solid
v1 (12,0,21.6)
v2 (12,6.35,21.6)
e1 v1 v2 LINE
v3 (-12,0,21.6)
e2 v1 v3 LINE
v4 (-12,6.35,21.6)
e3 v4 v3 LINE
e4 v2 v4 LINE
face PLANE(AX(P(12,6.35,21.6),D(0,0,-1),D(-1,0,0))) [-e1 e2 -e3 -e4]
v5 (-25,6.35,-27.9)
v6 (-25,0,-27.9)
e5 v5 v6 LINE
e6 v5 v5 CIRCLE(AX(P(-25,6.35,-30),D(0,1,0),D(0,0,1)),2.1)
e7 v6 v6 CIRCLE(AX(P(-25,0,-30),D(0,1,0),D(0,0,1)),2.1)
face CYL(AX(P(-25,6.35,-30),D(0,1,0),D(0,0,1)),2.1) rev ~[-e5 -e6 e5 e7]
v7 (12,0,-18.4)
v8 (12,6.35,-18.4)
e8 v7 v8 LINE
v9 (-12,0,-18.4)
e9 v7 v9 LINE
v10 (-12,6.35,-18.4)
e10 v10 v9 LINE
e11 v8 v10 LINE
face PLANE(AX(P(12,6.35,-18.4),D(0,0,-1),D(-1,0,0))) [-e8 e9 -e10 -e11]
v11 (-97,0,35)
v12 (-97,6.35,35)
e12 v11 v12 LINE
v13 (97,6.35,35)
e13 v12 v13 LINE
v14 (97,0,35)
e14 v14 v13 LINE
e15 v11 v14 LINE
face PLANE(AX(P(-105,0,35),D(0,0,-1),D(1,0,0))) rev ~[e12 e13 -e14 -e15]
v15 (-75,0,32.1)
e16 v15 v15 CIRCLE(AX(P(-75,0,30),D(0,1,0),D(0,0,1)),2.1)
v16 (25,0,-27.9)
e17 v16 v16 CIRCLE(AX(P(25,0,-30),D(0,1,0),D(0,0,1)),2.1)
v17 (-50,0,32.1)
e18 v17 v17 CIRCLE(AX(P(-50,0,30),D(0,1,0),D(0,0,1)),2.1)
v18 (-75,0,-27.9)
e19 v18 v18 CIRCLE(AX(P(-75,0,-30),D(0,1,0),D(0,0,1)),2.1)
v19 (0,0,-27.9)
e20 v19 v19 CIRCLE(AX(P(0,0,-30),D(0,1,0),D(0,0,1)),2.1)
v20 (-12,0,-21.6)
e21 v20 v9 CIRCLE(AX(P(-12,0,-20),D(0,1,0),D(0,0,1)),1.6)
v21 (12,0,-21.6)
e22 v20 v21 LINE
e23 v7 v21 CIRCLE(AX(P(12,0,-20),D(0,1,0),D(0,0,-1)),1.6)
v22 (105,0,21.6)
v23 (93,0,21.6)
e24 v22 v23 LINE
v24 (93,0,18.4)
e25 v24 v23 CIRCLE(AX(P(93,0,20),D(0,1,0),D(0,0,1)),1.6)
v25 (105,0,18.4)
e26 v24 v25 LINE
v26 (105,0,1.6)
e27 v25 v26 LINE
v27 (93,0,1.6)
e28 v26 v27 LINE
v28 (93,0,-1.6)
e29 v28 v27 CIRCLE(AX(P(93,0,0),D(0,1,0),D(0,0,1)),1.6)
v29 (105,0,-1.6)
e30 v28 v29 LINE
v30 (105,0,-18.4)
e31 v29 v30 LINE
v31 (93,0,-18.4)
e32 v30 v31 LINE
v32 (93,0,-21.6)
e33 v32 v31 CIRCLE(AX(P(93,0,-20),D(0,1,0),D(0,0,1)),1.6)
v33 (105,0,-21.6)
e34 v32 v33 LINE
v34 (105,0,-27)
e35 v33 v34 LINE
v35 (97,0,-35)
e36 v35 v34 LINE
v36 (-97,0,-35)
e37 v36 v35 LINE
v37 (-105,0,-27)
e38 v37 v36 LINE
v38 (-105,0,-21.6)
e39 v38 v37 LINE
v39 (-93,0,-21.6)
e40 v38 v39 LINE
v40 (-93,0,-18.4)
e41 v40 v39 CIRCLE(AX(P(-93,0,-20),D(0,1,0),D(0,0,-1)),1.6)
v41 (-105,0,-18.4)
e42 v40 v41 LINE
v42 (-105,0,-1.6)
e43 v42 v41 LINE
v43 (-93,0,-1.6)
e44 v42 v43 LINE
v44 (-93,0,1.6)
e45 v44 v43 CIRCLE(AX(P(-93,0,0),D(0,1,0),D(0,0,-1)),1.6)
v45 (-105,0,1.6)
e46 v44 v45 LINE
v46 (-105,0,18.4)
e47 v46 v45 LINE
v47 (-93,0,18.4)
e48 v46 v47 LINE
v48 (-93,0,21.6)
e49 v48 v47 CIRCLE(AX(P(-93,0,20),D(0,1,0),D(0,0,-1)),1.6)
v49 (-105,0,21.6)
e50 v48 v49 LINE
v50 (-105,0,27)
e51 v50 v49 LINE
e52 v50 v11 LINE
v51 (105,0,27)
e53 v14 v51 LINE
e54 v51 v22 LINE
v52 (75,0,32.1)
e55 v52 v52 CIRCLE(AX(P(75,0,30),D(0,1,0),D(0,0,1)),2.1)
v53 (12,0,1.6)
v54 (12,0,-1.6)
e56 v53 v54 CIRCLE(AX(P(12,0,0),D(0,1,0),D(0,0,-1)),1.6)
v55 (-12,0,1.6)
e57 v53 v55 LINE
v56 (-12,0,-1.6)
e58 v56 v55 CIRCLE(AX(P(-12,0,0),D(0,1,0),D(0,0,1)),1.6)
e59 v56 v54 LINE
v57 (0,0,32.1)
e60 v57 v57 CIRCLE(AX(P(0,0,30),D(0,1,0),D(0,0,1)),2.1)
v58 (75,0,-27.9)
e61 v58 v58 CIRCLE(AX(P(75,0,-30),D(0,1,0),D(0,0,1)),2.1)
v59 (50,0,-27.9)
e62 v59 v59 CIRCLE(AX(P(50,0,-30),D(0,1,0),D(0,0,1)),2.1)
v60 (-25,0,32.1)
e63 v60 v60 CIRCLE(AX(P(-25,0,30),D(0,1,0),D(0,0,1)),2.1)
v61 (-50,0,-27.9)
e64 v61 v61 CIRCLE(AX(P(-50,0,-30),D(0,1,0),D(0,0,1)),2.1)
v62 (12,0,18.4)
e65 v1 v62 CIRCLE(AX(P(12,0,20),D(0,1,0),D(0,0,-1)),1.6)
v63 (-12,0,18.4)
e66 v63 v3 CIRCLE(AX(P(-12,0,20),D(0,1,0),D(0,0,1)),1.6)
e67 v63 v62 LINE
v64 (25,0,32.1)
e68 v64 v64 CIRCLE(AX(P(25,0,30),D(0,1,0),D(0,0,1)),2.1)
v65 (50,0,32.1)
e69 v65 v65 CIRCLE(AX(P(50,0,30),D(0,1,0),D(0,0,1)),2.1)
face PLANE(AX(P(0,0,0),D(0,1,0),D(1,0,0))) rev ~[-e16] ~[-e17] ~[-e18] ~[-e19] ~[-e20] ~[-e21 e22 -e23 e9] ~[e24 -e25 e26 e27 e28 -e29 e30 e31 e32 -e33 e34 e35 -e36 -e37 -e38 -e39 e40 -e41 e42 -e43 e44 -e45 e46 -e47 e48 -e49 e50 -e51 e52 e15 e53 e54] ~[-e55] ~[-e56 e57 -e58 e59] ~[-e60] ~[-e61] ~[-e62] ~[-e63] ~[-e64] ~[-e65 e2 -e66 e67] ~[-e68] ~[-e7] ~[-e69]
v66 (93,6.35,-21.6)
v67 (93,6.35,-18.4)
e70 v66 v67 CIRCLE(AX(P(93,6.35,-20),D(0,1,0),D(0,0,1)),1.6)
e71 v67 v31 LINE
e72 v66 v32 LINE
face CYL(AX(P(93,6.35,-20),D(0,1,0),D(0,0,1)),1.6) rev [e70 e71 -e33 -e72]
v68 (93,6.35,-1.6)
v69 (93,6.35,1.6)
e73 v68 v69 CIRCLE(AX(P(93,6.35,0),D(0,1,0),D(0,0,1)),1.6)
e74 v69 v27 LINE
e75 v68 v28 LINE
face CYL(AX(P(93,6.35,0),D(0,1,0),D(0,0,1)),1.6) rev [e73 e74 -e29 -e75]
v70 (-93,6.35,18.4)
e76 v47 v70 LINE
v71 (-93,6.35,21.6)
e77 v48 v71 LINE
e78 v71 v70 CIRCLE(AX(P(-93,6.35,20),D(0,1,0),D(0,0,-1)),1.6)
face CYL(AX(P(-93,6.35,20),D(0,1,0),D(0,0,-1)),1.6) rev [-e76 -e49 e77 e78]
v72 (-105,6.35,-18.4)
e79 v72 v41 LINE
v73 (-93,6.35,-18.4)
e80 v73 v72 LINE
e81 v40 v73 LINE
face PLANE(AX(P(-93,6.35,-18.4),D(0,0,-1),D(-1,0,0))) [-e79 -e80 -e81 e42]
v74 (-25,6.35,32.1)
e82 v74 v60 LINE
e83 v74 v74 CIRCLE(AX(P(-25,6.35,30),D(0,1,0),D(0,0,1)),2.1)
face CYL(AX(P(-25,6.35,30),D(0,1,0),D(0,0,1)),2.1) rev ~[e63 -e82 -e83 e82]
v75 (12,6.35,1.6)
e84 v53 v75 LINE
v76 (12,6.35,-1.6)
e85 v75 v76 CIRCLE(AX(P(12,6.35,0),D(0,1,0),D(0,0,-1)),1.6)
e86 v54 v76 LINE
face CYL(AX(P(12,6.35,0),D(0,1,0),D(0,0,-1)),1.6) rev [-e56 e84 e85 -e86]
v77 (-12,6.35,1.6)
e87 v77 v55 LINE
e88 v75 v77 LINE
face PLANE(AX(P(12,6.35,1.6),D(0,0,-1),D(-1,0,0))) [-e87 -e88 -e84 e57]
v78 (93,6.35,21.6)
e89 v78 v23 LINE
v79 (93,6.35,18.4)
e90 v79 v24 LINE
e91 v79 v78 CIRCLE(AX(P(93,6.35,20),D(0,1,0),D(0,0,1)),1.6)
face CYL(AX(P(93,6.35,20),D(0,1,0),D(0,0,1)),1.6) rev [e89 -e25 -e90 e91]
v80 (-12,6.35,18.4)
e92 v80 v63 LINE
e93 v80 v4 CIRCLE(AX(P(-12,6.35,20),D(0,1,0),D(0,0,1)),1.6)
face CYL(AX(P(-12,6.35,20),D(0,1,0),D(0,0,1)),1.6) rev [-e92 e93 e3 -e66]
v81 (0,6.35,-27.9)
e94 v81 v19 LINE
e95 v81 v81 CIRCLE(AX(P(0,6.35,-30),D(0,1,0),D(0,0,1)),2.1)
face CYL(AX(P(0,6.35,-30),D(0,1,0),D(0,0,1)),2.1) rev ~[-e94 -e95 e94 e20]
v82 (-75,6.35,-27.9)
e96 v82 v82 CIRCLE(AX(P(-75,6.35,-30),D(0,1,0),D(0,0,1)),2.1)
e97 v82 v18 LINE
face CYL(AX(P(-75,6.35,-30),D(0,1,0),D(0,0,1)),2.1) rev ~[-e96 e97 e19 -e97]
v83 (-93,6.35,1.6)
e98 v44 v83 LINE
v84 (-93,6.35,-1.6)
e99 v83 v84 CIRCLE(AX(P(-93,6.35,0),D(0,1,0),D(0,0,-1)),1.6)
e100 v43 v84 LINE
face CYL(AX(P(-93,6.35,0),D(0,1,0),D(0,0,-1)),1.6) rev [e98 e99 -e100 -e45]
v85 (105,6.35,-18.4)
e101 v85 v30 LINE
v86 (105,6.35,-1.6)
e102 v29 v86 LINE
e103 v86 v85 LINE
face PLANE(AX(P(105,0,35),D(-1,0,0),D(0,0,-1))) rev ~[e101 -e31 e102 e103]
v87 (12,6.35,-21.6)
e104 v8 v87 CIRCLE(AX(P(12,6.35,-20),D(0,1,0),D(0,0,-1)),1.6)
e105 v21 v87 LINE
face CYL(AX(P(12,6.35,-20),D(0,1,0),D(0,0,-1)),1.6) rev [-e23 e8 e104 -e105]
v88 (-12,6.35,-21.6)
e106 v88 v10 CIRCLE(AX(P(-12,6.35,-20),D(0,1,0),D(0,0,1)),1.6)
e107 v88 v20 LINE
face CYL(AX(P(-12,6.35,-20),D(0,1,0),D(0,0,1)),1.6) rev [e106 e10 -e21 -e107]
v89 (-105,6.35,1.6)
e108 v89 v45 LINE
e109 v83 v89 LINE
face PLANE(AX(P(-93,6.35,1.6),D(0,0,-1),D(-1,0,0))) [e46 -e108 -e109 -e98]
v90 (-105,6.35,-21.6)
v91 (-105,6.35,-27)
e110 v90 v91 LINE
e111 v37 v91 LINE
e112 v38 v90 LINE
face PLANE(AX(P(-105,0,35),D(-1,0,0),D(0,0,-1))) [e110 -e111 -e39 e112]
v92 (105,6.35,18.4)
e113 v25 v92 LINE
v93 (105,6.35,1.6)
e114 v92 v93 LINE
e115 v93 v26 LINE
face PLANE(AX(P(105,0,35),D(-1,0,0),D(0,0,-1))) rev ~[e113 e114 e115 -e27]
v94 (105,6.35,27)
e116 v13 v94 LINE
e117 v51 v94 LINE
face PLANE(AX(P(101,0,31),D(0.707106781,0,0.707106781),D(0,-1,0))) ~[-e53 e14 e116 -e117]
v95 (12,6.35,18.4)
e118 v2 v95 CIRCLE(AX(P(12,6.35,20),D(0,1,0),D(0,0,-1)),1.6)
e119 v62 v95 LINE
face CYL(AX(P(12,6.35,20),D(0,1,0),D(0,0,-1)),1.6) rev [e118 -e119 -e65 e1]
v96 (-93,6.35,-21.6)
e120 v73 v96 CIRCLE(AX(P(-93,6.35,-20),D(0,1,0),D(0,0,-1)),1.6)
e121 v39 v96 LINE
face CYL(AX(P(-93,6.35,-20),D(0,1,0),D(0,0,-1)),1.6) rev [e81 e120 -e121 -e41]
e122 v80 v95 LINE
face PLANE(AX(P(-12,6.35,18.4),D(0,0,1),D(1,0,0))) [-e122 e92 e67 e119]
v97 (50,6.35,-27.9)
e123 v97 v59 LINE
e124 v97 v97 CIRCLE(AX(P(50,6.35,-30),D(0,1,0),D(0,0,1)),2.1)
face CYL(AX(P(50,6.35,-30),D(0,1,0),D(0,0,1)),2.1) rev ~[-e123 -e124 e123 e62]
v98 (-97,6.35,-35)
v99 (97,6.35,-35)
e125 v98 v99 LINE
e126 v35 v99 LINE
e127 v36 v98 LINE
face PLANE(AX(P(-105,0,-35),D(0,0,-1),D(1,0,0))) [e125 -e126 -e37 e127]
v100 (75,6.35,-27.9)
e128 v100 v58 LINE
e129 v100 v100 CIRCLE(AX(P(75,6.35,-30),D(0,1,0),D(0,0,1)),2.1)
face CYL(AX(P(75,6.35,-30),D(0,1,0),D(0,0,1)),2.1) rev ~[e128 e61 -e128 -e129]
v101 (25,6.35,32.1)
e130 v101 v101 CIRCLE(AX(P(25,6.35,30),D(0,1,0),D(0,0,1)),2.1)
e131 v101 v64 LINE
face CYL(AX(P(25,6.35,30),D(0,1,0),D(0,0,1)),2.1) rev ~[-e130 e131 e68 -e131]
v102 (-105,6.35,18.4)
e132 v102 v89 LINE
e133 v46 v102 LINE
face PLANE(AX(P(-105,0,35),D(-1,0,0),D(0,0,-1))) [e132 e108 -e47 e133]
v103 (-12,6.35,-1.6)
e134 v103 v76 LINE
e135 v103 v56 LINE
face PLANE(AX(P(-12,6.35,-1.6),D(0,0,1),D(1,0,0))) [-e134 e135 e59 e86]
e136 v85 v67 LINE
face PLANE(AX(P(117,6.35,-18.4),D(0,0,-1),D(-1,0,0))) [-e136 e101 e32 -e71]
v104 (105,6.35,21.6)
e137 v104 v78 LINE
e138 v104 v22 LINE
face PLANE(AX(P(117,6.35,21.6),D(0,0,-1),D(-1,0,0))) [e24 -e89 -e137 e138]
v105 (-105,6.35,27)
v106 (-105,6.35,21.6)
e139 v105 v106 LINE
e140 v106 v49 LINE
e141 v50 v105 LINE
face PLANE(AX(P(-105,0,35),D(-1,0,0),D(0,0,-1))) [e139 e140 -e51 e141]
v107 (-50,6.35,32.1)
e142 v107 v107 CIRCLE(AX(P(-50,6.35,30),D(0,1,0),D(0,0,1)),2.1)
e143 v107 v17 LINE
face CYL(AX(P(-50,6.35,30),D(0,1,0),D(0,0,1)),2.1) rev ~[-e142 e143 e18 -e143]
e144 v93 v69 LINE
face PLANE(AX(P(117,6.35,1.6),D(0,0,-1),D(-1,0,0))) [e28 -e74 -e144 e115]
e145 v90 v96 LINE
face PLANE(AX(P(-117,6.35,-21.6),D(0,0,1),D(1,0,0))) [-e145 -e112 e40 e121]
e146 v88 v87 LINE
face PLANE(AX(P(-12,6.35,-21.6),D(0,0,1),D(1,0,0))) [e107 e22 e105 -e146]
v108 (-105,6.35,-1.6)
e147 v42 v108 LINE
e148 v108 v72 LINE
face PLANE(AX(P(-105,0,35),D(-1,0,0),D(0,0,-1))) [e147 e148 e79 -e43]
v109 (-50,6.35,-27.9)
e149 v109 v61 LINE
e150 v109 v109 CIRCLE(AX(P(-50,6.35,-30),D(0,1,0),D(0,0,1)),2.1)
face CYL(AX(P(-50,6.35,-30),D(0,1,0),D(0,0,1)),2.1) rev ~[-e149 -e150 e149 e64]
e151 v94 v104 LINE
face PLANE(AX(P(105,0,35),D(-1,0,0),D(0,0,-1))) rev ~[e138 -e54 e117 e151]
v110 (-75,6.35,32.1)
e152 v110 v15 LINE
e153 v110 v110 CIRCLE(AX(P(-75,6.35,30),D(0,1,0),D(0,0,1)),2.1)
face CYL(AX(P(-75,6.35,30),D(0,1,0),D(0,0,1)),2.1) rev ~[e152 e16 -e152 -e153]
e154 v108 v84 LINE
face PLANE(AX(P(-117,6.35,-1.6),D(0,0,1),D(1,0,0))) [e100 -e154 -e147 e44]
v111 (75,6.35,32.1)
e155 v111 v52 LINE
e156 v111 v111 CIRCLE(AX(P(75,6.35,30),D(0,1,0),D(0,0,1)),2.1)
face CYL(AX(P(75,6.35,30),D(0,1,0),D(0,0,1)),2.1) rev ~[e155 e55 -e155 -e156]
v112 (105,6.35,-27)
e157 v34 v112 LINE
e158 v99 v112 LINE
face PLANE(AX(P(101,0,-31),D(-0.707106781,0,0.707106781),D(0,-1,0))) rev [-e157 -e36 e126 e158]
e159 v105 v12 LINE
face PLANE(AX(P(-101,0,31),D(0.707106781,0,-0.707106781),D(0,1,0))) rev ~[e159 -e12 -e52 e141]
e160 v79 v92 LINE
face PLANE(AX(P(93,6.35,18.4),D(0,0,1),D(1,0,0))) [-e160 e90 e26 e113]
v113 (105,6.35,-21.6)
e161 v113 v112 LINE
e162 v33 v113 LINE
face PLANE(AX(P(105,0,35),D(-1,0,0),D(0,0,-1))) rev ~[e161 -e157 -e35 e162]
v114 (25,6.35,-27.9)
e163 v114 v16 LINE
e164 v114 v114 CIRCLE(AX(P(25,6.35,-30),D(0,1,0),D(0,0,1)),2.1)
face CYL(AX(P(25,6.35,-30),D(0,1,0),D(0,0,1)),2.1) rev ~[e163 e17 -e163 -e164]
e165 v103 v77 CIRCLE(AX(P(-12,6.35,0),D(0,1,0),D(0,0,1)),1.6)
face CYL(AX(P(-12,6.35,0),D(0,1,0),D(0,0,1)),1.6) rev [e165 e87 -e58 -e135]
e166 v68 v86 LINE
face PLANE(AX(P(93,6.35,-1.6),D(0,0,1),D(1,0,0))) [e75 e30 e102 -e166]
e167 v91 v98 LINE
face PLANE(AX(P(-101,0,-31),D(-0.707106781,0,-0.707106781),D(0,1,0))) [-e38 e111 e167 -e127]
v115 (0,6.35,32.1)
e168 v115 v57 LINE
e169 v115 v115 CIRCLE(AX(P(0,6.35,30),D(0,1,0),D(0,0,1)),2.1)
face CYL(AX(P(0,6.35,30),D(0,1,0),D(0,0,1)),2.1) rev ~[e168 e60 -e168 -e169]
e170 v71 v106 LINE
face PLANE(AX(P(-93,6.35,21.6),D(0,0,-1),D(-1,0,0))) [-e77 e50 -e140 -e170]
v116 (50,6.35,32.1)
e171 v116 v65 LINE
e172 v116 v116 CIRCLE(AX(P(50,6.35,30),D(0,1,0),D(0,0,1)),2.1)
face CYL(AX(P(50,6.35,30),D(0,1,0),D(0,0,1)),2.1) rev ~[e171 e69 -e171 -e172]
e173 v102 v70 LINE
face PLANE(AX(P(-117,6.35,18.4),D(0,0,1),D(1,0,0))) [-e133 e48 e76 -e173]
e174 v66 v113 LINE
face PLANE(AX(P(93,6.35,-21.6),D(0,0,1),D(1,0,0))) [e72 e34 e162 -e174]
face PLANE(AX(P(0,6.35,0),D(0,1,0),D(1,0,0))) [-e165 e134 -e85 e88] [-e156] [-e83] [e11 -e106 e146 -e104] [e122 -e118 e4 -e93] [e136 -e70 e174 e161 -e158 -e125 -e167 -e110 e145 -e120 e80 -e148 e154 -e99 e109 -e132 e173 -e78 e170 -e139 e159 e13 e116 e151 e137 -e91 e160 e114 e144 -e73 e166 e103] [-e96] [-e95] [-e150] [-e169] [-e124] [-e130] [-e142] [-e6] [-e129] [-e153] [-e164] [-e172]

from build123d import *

# Parameters (mm, degrees)
SKETCH1_W                   = 210
SKETCH1_H                   = 70
BOSS_EXTRUDE1_DEPTH         = 6.35
CUT_EXTRUDE1_DEPTH          = 111.861726939
LPATTERN1_COUNT             = 4
LPATTERN1_PITCH             = 20
LPATTERN1_COUNT_DIR2        = 4
LPATTERN1_PITCH_DIR2        = 20
LPATTERN2_COUNT             = 2
LPATTERN2_PITCH             = 105
LPATTERN2_COPY_1_DEPTH      = 111.861726939
LPATTERN2_COPY_2_DEPTH      = 111.861726939
LPATTERN2_COPY_3_DEPTH      = 111.861726939
LPATTERN2_COPY_4_DEPTH      = 111.861726939
LPATTERN2_COPY_5_DEPTH      = 111.861726939
LPATTERN2_COPY_6_DEPTH      = 111.861726939
LPATTERN2_COPY_7_DEPTH      = 111.861726939
LPATTERN2_COPY_8_DEPTH      = 111.861726939
LPATTERN2_COPY_9_DEPTH      = 111.861726939
LPATTERN2_COPY_10_DEPTH     = 111.861726939
LPATTERN2_COPY_11_DEPTH     = 111.861726939
LPATTERN2_COPY_12_DEPTH     = 111.861726939
LPATTERN2_COPY_13_DEPTH     = 111.861726939
LPATTERN2_COPY_14_DEPTH     = 111.861726939
LPATTERN2_COPY_15_DEPTH     = 111.861726939
LPATTERN2_COL_COUNT         = 2
LPATTERN2_COL_PITCH         = 105
LPATTERN2_COL_COPY_1_DEPTH  = 111.861726939
LPATTERN2_COL_COPY_2_DEPTH  = 111.861726939
LPATTERN2_COL_COPY_3_DEPTH  = 111.861726939
LPATTERN2_COL_COPY_4_DEPTH  = 111.861726939
LPATTERN2_COL_COPY_5_DEPTH  = 111.861726939
LPATTERN2_COL_COPY_6_DEPTH  = 111.861726939
LPATTERN2_COL_COPY_7_DEPTH  = 111.861726939
LPATTERN2_COL_COPY_8_DEPTH  = 111.861726939
LPATTERN2_COL_COPY_9_DEPTH  = 111.861726939
LPATTERN2_COL_COPY_10_DEPTH = 111.861726939
LPATTERN2_COL_COPY_11_DEPTH = 111.861726939
LPATTERN2_COL_COPY_12_DEPTH = 111.861726939
LPATTERN2_COL_COPY_13_DEPTH = 111.861726939
LPATTERN2_COL_COPY_14_DEPTH = 111.861726939
LPATTERN2_COL_COPY_15_DEPTH = 111.861726939
SKETCH4_R                   = 2.1
CUT_EXTRUDE2_DEPTH          = 111.861726939
LPATTERN3_COUNT             = 4
LPATTERN3_PITCH             = 25
LPATTERN3_COL_COUNT         = 4
LPATTERN3_COL_PITCH         = 25
CHAMFER1_SIZE               = 8


with BuildPart() as part:
    # Sketch1 → Boss-Extrude1 (new body)
    with BuildSketch(Plane(origin=(0, 0, 0), x_dir=(1, 0, 0), z_dir=(0, 1, 0))):
        Rectangle(SKETCH1_W, SKETCH1_H)
    extrude(amount=BOSS_EXTRUDE1_DEPTH)

    # Sketch3 → Cut-Extrude1 (cut, symmetric)
    with BuildSketch(Plane(origin=(0, 6.35, 0), x_dir=(1, 0, 0), z_dir=(0, 1, 0))):
        with BuildLine():
            Line((12, -1.6), (-12, -1.6))
            ThreePointArc((-12, -1.6), (-13.6, 0), (-12, 1.6))
            Line((-12, 1.6), (12, 1.6))
            ThreePointArc((12, 1.6), (13.6, 0), (12, -1.6))
        make_face()
    cut_extrude1 = extrude(amount=CUT_EXTRUDE1_DEPTH, both=True, mode=Mode.SUBTRACT)

    # LPattern1: Cut-Extrude1 4 × 4
    with Locations(*[Vector(0, 0, 1) * (i * LPATTERN1_PITCH) + Vector(0, 0, -1) * (j * LPATTERN1_PITCH_DIR2) for i in range(LPATTERN1_COUNT) for j in range(LPATTERN1_COUNT_DIR2) if (i, j) != (0, 0)]):
        add(cut_extrude1, mode=Mode.SUBTRACT)

    # LPattern2: Cut-Extrude1 ×2
    with Locations(*[(i * LPATTERN2_PITCH, 0, 0) for i in range(1, LPATTERN2_COUNT)]):
        add(cut_extrude1, mode=Mode.SUBTRACT)

    # LPattern2 copy 1 sketch → LPattern2 copy 1 (cut, symmetric)
    with BuildSketch(Plane(origin=(105, 6.35, -20), x_dir=(1, 0, 0), z_dir=(0, 1, 0))):
        with BuildLine():
            Line((12, -1.6), (-12, -1.6))
            ThreePointArc((-12, -1.6), (-13.6, 0), (-12, 1.6))
            Line((-12, 1.6), (12, 1.6))
            ThreePointArc((12, 1.6), (13.6, 0), (12, -1.6))
        make_face()
    extrude(amount=LPATTERN2_COPY_1_DEPTH, both=True, mode=Mode.SUBTRACT)

    # LPattern2 copy 2 sketch → LPattern2 copy 2 (cut, symmetric)
    with BuildSketch(Plane(origin=(105, 6.35, -40), x_dir=(1, 0, 0), z_dir=(0, 1, 0))):
        with BuildLine():
            Line((12, -1.6), (-12, -1.6))
            ThreePointArc((-12, -1.6), (-13.6, 0), (-12, 1.6))
            Line((-12, 1.6), (12, 1.6))
            ThreePointArc((12, 1.6), (13.6, 0), (12, -1.6))
        make_face()
    extrude(amount=LPATTERN2_COPY_2_DEPTH, both=True, mode=Mode.SUBTRACT)

    # LPattern2 copy 3 sketch → LPattern2 copy 3 (cut, symmetric)
    with BuildSketch(Plane(origin=(105, 6.35, -60), x_dir=(1, 0, 0), z_dir=(0, 1, 0))):
        with BuildLine():
            Line((12, -1.6), (-12, -1.6))
            ThreePointArc((-12, -1.6), (-13.6, 0), (-12, 1.6))
            Line((-12, 1.6), (12, 1.6))
            ThreePointArc((12, 1.6), (13.6, 0), (12, -1.6))
        make_face()
    extrude(amount=LPATTERN2_COPY_3_DEPTH, both=True, mode=Mode.SUBTRACT)

    # LPattern2 copy 4 sketch → LPattern2 copy 4 (cut, symmetric)
    with BuildSketch(Plane(origin=(105, 6.35, 20), x_dir=(1, 0, 0), z_dir=(0, 1, 0))):
        with BuildLine():
            Line((12, -1.6), (-12, -1.6))
            ThreePointArc((-12, -1.6), (-13.6, 0), (-12, 1.6))
            Line((-12, 1.6), (12, 1.6))
            ThreePointArc((12, 1.6), (13.6, 0), (12, -1.6))
        make_face()
    extrude(amount=LPATTERN2_COPY_4_DEPTH, both=True, mode=Mode.SUBTRACT)

    # LPattern2 copy 5 sketch → LPattern2 copy 5 (cut, symmetric)
    with BuildSketch(Plane(origin=(105, 6.35, 0), x_dir=(1, 0, 0), z_dir=(0, 1, 0))):
        with BuildLine():
            Line((12, -1.6), (-12, -1.6))
            ThreePointArc((-12, -1.6), (-13.6, 0), (-12, 1.6))
            Line((-12, 1.6), (12, 1.6))
            ThreePointArc((12, 1.6), (13.6, 0), (12, -1.6))
        make_face()
    extrude(amount=LPATTERN2_COPY_5_DEPTH, both=True, mode=Mode.SUBTRACT)

    # LPattern2 copy 6 sketch → LPattern2 copy 6 (cut, symmetric)
    with BuildSketch(Plane(origin=(105, 6.35, -20), x_dir=(1, 0, 0), z_dir=(0, 1, 0))):
        with BuildLine():
            Line((12, -1.6), (-12, -1.6))
            ThreePointArc((-12, -1.6), (-13.6, 0), (-12, 1.6))
            Line((-12, 1.6), (12, 1.6))
            ThreePointArc((12, 1.6), (13.6, 0), (12, -1.6))
        make_face()
    extrude(amount=LPATTERN2_COPY_6_DEPTH, both=True, mode=Mode.SUBTRACT)

    # LPattern2 copy 7 sketch → LPattern2 copy 7 (cut, symmetric)
    with BuildSketch(Plane(origin=(105, 6.35, -40), x_dir=(1, 0, 0), z_dir=(0, 1, 0))):
        with BuildLine():
            Line((12, -1.6), (-12, -1.6))
            ThreePointArc((-12, -1.6), (-13.6, 0), (-12, 1.6))
            Line((-12, 1.6), (12, 1.6))
            ThreePointArc((12, 1.6), (13.6, 0), (12, -1.6))
        make_face()
    extrude(amount=LPATTERN2_COPY_7_DEPTH, both=True, mode=Mode.SUBTRACT)

    # LPattern2 copy 8 sketch → LPattern2 copy 8 (cut, symmetric)
    with BuildSketch(Plane(origin=(105, 6.35, 40), x_dir=(1, 0, 0), z_dir=(0, 1, 0))):
        with BuildLine():
            Line((12, -1.6), (-12, -1.6))
            ThreePointArc((-12, -1.6), (-13.6, 0), (-12, 1.6))
            Line((-12, 1.6), (12, 1.6))
            ThreePointArc((12, 1.6), (13.6, 0), (12, -1.6))
        make_face()
    extrude(amount=LPATTERN2_COPY_8_DEPTH, both=True, mode=Mode.SUBTRACT)

    # LPattern2 copy 9 sketch → LPattern2 copy 9 (cut, symmetric)
    with BuildSketch(Plane(origin=(105, 6.35, 20), x_dir=(1, 0, 0), z_dir=(0, 1, 0))):
        with BuildLine():
            Line((12, -1.6), (-12, -1.6))
            ThreePointArc((-12, -1.6), (-13.6, 0), (-12, 1.6))
            Line((-12, 1.6), (12, 1.6))
            ThreePointArc((12, 1.6), (13.6, 0), (12, -1.6))
        make_face()
    extrude(amount=LPATTERN2_COPY_9_DEPTH, both=True, mode=Mode.SUBTRACT)

    # LPattern2 copy 10 sketch → LPattern2 copy 10 (cut, symmetric)
    with BuildSketch(Plane(origin=(105, 6.35, 0), x_dir=(1, 0, 0), z_dir=(0, 1, 0))):
        with BuildLine():
            Line((12, -1.6), (-12, -1.6))
            ThreePointArc((-12, -1.6), (-13.6, 0), (-12, 1.6))
            Line((-12, 1.6), (12, 1.6))
            ThreePointArc((12, 1.6), (13.6, 0), (12, -1.6))
        make_face()
    extrude(amount=LPATTERN2_COPY_10_DEPTH, both=True, mode=Mode.SUBTRACT)

    # LPattern2 copy 11 sketch → LPattern2 copy 11 (cut, symmetric)
    with BuildSketch(Plane(origin=(105, 6.35, -20), x_dir=(1, 0, 0), z_dir=(0, 1, 0))):
        with BuildLine():
            Line((12, -1.6), (-12, -1.6))
            ThreePointArc((-12, -1.6), (-13.6, 0), (-12, 1.6))
            Line((-12, 1.6), (12, 1.6))
            ThreePointArc((12, 1.6), (13.6, 0), (12, -1.6))
        make_face()
    extrude(amount=LPATTERN2_COPY_11_DEPTH, both=True, mode=Mode.SUBTRACT)

    # LPattern2 copy 12 sketch → LPattern2 copy 12 (cut, symmetric)
    with BuildSketch(Plane(origin=(105, 6.35, 60), x_dir=(1, 0, 0), z_dir=(0, 1, 0))):
        with BuildLine():
            Line((12, -1.6), (-12, -1.6))
            ThreePointArc((-12, -1.6), (-13.6, 0), (-12, 1.6))
            Line((-12, 1.6), (12, 1.6))
            ThreePointArc((12, 1.6), (13.6, 0), (12, -1.6))
        make_face()
    extrude(amount=LPATTERN2_COPY_12_DEPTH, both=True, mode=Mode.SUBTRACT)

    # LPattern2 copy 13 sketch → LPattern2 copy 13 (cut, symmetric)
    with BuildSketch(Plane(origin=(105, 6.35, 40), x_dir=(1, 0, 0), z_dir=(0, 1, 0))):
        with BuildLine():
            Line((12, -1.6), (-12, -1.6))
            ThreePointArc((-12, -1.6), (-13.6, 0), (-12, 1.6))
            Line((-12, 1.6), (12, 1.6))
            ThreePointArc((12, 1.6), (13.6, 0), (12, -1.6))
        make_face()
    extrude(amount=LPATTERN2_COPY_13_DEPTH, both=True, mode=Mode.SUBTRACT)

    # LPattern2 copy 14 sketch → LPattern2 copy 14 (cut, symmetric)
    with BuildSketch(Plane(origin=(105, 6.35, 20), x_dir=(1, 0, 0), z_dir=(0, 1, 0))):
        with BuildLine():
            Line((12, -1.6), (-12, -1.6))
            ThreePointArc((-12, -1.6), (-13.6, 0), (-12, 1.6))
            Line((-12, 1.6), (12, 1.6))
            ThreePointArc((12, 1.6), (13.6, 0), (12, -1.6))
        make_face()
    extrude(amount=LPATTERN2_COPY_14_DEPTH, both=True, mode=Mode.SUBTRACT)

    # LPattern2 copy 15 sketch → LPattern2 copy 15 (cut, symmetric)
    with BuildSketch(Plane(origin=(105, 6.35, 0), x_dir=(1, 0, 0), z_dir=(0, 1, 0))):
        with BuildLine():
            Line((12, -1.6), (-12, -1.6))
            ThreePointArc((-12, -1.6), (-13.6, 0), (-12, 1.6))
            Line((-12, 1.6), (12, 1.6))
            ThreePointArc((12, 1.6), (13.6, 0), (12, -1.6))
        make_face()
    extrude(amount=LPATTERN2_COPY_15_DEPTH, both=True, mode=Mode.SUBTRACT)

    # LPattern2 col: Cut-Extrude1 ×2
    with Locations(*[(-i * LPATTERN2_COL_PITCH, 0, 0) for i in range(1, LPATTERN2_COL_COUNT)]):
        add(cut_extrude1, mode=Mode.SUBTRACT)

    # LPattern2 col copy 1 sketch → LPattern2 col copy 1 (cut, symmetric)
    with BuildSketch(Plane(origin=(-105, 6.35, -20), x_dir=(1, 0, 0), z_dir=(0, 1, 0))):
        with BuildLine():
            Line((12, -1.6), (-12, -1.6))
            ThreePointArc((-12, -1.6), (-13.6, 0), (-12, 1.6))
            Line((-12, 1.6), (12, 1.6))
            ThreePointArc((12, 1.6), (13.6, 0), (12, -1.6))
        make_face()
    extrude(amount=LPATTERN2_COL_COPY_1_DEPTH, both=True, mode=Mode.SUBTRACT)

    # LPattern2 col copy 2 sketch → LPattern2 col copy 2 (cut, symmetric)
    with BuildSketch(Plane(origin=(-105, 6.35, -40), x_dir=(1, 0, 0), z_dir=(0, 1, 0))):
        with BuildLine():
            Line((12, -1.6), (-12, -1.6))
            ThreePointArc((-12, -1.6), (-13.6, 0), (-12, 1.6))
            Line((-12, 1.6), (12, 1.6))
            ThreePointArc((12, 1.6), (13.6, 0), (12, -1.6))
        make_face()
    extrude(amount=LPATTERN2_COL_COPY_2_DEPTH, both=True, mode=Mode.SUBTRACT)

    # LPattern2 col copy 3 sketch → LPattern2 col copy 3 (cut, symmetric)
    with BuildSketch(Plane(origin=(-105, 6.35, -60), x_dir=(1, 0, 0), z_dir=(0, 1, 0))):
        with BuildLine():
            Line((12, -1.6), (-12, -1.6))
            ThreePointArc((-12, -1.6), (-13.6, 0), (-12, 1.6))
            Line((-12, 1.6), (12, 1.6))
            ThreePointArc((12, 1.6), (13.6, 0), (12, -1.6))
        make_face()
    extrude(amount=LPATTERN2_COL_COPY_3_DEPTH, both=True, mode=Mode.SUBTRACT)

    # LPattern2 col copy 4 sketch → LPattern2 col copy 4 (cut, symmetric)
    with BuildSketch(Plane(origin=(-105, 6.35, 20), x_dir=(1, 0, 0), z_dir=(0, 1, 0))):
        with BuildLine():
            Line((12, -1.6), (-12, -1.6))
            ThreePointArc((-12, -1.6), (-13.6, 0), (-12, 1.6))
            Line((-12, 1.6), (12, 1.6))
            ThreePointArc((12, 1.6), (13.6, 0), (12, -1.6))
        make_face()
    extrude(amount=LPATTERN2_COL_COPY_4_DEPTH, both=True, mode=Mode.SUBTRACT)

    # LPattern2 col copy 5 sketch → LPattern2 col copy 5 (cut, symmetric)
    with BuildSketch(Plane(origin=(-105, 6.35, 0), x_dir=(1, 0, 0), z_dir=(0, 1, 0))):
        with BuildLine():
            Line((12, -1.6), (-12, -1.6))
            ThreePointArc((-12, -1.6), (-13.6, 0), (-12, 1.6))
            Line((-12, 1.6), (12, 1.6))
            ThreePointArc((12, 1.6), (13.6, 0), (12, -1.6))
        make_face()
    extrude(amount=LPATTERN2_COL_COPY_5_DEPTH, both=True, mode=Mode.SUBTRACT)

    # LPattern2 col copy 6 sketch → LPattern2 col copy 6 (cut, symmetric)
    with BuildSketch(Plane(origin=(-105, 6.35, -20), x_dir=(1, 0, 0), z_dir=(0, 1, 0))):
        with BuildLine():
            Line((12, -1.6), (-12, -1.6))
            ThreePointArc((-12, -1.6), (-13.6, 0), (-12, 1.6))
            Line((-12, 1.6), (12, 1.6))
            ThreePointArc((12, 1.6), (13.6, 0), (12, -1.6))
        make_face()
    extrude(amount=LPATTERN2_COL_COPY_6_DEPTH, both=True, mode=Mode.SUBTRACT)

    # LPattern2 col copy 7 sketch → LPattern2 col copy 7 (cut, symmetric)
    with BuildSketch(Plane(origin=(-105, 6.35, -40), x_dir=(1, 0, 0), z_dir=(0, 1, 0))):
        with BuildLine():
            Line((12, -1.6), (-12, -1.6))
            ThreePointArc((-12, -1.6), (-13.6, 0), (-12, 1.6))
            Line((-12, 1.6), (12, 1.6))
            ThreePointArc((12, 1.6), (13.6, 0), (12, -1.6))
        make_face()
    extrude(amount=LPATTERN2_COL_COPY_7_DEPTH, both=True, mode=Mode.SUBTRACT)

    # LPattern2 col copy 8 sketch → LPattern2 col copy 8 (cut, symmetric)
    with BuildSketch(Plane(origin=(-105, 6.35, 40), x_dir=(1, 0, 0), z_dir=(0, 1, 0))):
        with BuildLine():
            Line((12, -1.6), (-12, -1.6))
            ThreePointArc((-12, -1.6), (-13.6, 0), (-12, 1.6))
            Line((-12, 1.6), (12, 1.6))
            ThreePointArc((12, 1.6), (13.6, 0), (12, -1.6))
        make_face()
    extrude(amount=LPATTERN2_COL_COPY_8_DEPTH, both=True, mode=Mode.SUBTRACT)

    # LPattern2 col copy 9 sketch → LPattern2 col copy 9 (cut, symmetric)
    with BuildSketch(Plane(origin=(-105, 6.35, 20), x_dir=(1, 0, 0), z_dir=(0, 1, 0))):
        with BuildLine():
            Line((12, -1.6), (-12, -1.6))
            ThreePointArc((-12, -1.6), (-13.6, 0), (-12, 1.6))
            Line((-12, 1.6), (12, 1.6))
            ThreePointArc((12, 1.6), (13.6, 0), (12, -1.6))
        make_face()
    extrude(amount=LPATTERN2_COL_COPY_9_DEPTH, both=True, mode=Mode.SUBTRACT)

    # LPattern2 col copy 10 sketch → LPattern2 col copy 10 (cut, symmetric)
    with BuildSketch(Plane(origin=(-105, 6.35, 0), x_dir=(1, 0, 0), z_dir=(0, 1, 0))):
        with BuildLine():
            Line((12, -1.6), (-12, -1.6))
            ThreePointArc((-12, -1.6), (-13.6, 0), (-12, 1.6))
            Line((-12, 1.6), (12, 1.6))
            ThreePointArc((12, 1.6), (13.6, 0), (12, -1.6))
        make_face()
    extrude(amount=LPATTERN2_COL_COPY_10_DEPTH, both=True, mode=Mode.SUBTRACT)

    # LPattern2 col copy 11 sketch → LPattern2 col copy 11 (cut, symmetric)
    with BuildSketch(Plane(origin=(-105, 6.35, -20), x_dir=(1, 0, 0), z_dir=(0, 1, 0))):
        with BuildLine():
            Line((12, -1.6), (-12, -1.6))
            ThreePointArc((-12, -1.6), (-13.6, 0), (-12, 1.6))
            Line((-12, 1.6), (12, 1.6))
            ThreePointArc((12, 1.6), (13.6, 0), (12, -1.6))
        make_face()
    extrude(amount=LPATTERN2_COL_COPY_11_DEPTH, both=True, mode=Mode.SUBTRACT)

    # LPattern2 col copy 12 sketch → LPattern2 col copy 12 (cut, symmetric)
    with BuildSketch(Plane(origin=(-105, 6.35, 60), x_dir=(1, 0, 0), z_dir=(0, 1, 0))):
        with BuildLine():
            Line((12, -1.6), (-12, -1.6))
            ThreePointArc((-12, -1.6), (-13.6, 0), (-12, 1.6))
            Line((-12, 1.6), (12, 1.6))
            ThreePointArc((12, 1.6), (13.6, 0), (12, -1.6))
        make_face()
    extrude(amount=LPATTERN2_COL_COPY_12_DEPTH, both=True, mode=Mode.SUBTRACT)

    # LPattern2 col copy 13 sketch → LPattern2 col copy 13 (cut, symmetric)
    with BuildSketch(Plane(origin=(-105, 6.35, 40), x_dir=(1, 0, 0), z_dir=(0, 1, 0))):
        with BuildLine():
            Line((12, -1.6), (-12, -1.6))
            ThreePointArc((-12, -1.6), (-13.6, 0), (-12, 1.6))
            Line((-12, 1.6), (12, 1.6))
            ThreePointArc((12, 1.6), (13.6, 0), (12, -1.6))
        make_face()
    extrude(amount=LPATTERN2_COL_COPY_13_DEPTH, both=True, mode=Mode.SUBTRACT)

    # LPattern2 col copy 14 sketch → LPattern2 col copy 14 (cut, symmetric)
    with BuildSketch(Plane(origin=(-105, 6.35, 20), x_dir=(1, 0, 0), z_dir=(0, 1, 0))):
        with BuildLine():
            Line((12, -1.6), (-12, -1.6))
            ThreePointArc((-12, -1.6), (-13.6, 0), (-12, 1.6))
            Line((-12, 1.6), (12, 1.6))
            ThreePointArc((12, 1.6), (13.6, 0), (12, -1.6))
        make_face()
    extrude(amount=LPATTERN2_COL_COPY_14_DEPTH, both=True, mode=Mode.SUBTRACT)

    # LPattern2 col copy 15 sketch → LPattern2 col copy 15 (cut, symmetric)
    with BuildSketch(Plane(origin=(-105, 6.35, 0), x_dir=(1, 0, 0), z_dir=(0, 1, 0))):
        with BuildLine():
            Line((12, -1.6), (-12, -1.6))
            ThreePointArc((-12, -1.6), (-13.6, 0), (-12, 1.6))
            Line((-12, 1.6), (12, 1.6))
            ThreePointArc((12, 1.6), (13.6, 0), (12, -1.6))
        make_face()
    extrude(amount=LPATTERN2_COL_COPY_15_DEPTH, both=True, mode=Mode.SUBTRACT)

    # Sketch4 → Cut-Extrude2 (cut, symmetric)
    with BuildSketch(Plane(origin=(0, 6.35, 0), x_dir=(1, 0, 0), z_dir=(0, 1, 0))):
        with Locations(Location((0, 30, 0), (0, 0, 270))):
            Circle(SKETCH4_R)
        with Locations(Location((0, -30, 0), (0, 0, 270))):
            Circle(SKETCH4_R)
        with Locations((0, 50)):
            Circle(SKETCH4_R)
        with Locations((0, -50)):
            Circle(SKETCH4_R)
    cut_extrude2 = extrude(amount=CUT_EXTRUDE2_DEPTH, both=True, mode=Mode.SUBTRACT)

    # LPattern3: Cut-Extrude2 ×4
    with Locations(*[(i * LPATTERN3_PITCH, 0, 0) for i in range(1, LPATTERN3_COUNT)]):
        add(cut_extrude2, mode=Mode.SUBTRACT)

    # LPattern3 col: Cut-Extrude2 ×4
    with Locations(*[(-i * LPATTERN3_COL_PITCH, 0, 0) for i in range(1, LPATTERN3_COL_COUNT)]):
        add(cut_extrude2, mode=Mode.SUBTRACT)

    # Chamfer1
    chamfer1_edges = [part.edges().sort_by_distance(p)[0] for p in [
        (-105, 3.175, -35),
        (105, 3.175, -35),
        (105, 3.175, 35),
        (-105, 3.175, 35),
    ]]
    chamfer(chamfer1_edges, length=CHAMFER1_SIZE)


solid = part.part
